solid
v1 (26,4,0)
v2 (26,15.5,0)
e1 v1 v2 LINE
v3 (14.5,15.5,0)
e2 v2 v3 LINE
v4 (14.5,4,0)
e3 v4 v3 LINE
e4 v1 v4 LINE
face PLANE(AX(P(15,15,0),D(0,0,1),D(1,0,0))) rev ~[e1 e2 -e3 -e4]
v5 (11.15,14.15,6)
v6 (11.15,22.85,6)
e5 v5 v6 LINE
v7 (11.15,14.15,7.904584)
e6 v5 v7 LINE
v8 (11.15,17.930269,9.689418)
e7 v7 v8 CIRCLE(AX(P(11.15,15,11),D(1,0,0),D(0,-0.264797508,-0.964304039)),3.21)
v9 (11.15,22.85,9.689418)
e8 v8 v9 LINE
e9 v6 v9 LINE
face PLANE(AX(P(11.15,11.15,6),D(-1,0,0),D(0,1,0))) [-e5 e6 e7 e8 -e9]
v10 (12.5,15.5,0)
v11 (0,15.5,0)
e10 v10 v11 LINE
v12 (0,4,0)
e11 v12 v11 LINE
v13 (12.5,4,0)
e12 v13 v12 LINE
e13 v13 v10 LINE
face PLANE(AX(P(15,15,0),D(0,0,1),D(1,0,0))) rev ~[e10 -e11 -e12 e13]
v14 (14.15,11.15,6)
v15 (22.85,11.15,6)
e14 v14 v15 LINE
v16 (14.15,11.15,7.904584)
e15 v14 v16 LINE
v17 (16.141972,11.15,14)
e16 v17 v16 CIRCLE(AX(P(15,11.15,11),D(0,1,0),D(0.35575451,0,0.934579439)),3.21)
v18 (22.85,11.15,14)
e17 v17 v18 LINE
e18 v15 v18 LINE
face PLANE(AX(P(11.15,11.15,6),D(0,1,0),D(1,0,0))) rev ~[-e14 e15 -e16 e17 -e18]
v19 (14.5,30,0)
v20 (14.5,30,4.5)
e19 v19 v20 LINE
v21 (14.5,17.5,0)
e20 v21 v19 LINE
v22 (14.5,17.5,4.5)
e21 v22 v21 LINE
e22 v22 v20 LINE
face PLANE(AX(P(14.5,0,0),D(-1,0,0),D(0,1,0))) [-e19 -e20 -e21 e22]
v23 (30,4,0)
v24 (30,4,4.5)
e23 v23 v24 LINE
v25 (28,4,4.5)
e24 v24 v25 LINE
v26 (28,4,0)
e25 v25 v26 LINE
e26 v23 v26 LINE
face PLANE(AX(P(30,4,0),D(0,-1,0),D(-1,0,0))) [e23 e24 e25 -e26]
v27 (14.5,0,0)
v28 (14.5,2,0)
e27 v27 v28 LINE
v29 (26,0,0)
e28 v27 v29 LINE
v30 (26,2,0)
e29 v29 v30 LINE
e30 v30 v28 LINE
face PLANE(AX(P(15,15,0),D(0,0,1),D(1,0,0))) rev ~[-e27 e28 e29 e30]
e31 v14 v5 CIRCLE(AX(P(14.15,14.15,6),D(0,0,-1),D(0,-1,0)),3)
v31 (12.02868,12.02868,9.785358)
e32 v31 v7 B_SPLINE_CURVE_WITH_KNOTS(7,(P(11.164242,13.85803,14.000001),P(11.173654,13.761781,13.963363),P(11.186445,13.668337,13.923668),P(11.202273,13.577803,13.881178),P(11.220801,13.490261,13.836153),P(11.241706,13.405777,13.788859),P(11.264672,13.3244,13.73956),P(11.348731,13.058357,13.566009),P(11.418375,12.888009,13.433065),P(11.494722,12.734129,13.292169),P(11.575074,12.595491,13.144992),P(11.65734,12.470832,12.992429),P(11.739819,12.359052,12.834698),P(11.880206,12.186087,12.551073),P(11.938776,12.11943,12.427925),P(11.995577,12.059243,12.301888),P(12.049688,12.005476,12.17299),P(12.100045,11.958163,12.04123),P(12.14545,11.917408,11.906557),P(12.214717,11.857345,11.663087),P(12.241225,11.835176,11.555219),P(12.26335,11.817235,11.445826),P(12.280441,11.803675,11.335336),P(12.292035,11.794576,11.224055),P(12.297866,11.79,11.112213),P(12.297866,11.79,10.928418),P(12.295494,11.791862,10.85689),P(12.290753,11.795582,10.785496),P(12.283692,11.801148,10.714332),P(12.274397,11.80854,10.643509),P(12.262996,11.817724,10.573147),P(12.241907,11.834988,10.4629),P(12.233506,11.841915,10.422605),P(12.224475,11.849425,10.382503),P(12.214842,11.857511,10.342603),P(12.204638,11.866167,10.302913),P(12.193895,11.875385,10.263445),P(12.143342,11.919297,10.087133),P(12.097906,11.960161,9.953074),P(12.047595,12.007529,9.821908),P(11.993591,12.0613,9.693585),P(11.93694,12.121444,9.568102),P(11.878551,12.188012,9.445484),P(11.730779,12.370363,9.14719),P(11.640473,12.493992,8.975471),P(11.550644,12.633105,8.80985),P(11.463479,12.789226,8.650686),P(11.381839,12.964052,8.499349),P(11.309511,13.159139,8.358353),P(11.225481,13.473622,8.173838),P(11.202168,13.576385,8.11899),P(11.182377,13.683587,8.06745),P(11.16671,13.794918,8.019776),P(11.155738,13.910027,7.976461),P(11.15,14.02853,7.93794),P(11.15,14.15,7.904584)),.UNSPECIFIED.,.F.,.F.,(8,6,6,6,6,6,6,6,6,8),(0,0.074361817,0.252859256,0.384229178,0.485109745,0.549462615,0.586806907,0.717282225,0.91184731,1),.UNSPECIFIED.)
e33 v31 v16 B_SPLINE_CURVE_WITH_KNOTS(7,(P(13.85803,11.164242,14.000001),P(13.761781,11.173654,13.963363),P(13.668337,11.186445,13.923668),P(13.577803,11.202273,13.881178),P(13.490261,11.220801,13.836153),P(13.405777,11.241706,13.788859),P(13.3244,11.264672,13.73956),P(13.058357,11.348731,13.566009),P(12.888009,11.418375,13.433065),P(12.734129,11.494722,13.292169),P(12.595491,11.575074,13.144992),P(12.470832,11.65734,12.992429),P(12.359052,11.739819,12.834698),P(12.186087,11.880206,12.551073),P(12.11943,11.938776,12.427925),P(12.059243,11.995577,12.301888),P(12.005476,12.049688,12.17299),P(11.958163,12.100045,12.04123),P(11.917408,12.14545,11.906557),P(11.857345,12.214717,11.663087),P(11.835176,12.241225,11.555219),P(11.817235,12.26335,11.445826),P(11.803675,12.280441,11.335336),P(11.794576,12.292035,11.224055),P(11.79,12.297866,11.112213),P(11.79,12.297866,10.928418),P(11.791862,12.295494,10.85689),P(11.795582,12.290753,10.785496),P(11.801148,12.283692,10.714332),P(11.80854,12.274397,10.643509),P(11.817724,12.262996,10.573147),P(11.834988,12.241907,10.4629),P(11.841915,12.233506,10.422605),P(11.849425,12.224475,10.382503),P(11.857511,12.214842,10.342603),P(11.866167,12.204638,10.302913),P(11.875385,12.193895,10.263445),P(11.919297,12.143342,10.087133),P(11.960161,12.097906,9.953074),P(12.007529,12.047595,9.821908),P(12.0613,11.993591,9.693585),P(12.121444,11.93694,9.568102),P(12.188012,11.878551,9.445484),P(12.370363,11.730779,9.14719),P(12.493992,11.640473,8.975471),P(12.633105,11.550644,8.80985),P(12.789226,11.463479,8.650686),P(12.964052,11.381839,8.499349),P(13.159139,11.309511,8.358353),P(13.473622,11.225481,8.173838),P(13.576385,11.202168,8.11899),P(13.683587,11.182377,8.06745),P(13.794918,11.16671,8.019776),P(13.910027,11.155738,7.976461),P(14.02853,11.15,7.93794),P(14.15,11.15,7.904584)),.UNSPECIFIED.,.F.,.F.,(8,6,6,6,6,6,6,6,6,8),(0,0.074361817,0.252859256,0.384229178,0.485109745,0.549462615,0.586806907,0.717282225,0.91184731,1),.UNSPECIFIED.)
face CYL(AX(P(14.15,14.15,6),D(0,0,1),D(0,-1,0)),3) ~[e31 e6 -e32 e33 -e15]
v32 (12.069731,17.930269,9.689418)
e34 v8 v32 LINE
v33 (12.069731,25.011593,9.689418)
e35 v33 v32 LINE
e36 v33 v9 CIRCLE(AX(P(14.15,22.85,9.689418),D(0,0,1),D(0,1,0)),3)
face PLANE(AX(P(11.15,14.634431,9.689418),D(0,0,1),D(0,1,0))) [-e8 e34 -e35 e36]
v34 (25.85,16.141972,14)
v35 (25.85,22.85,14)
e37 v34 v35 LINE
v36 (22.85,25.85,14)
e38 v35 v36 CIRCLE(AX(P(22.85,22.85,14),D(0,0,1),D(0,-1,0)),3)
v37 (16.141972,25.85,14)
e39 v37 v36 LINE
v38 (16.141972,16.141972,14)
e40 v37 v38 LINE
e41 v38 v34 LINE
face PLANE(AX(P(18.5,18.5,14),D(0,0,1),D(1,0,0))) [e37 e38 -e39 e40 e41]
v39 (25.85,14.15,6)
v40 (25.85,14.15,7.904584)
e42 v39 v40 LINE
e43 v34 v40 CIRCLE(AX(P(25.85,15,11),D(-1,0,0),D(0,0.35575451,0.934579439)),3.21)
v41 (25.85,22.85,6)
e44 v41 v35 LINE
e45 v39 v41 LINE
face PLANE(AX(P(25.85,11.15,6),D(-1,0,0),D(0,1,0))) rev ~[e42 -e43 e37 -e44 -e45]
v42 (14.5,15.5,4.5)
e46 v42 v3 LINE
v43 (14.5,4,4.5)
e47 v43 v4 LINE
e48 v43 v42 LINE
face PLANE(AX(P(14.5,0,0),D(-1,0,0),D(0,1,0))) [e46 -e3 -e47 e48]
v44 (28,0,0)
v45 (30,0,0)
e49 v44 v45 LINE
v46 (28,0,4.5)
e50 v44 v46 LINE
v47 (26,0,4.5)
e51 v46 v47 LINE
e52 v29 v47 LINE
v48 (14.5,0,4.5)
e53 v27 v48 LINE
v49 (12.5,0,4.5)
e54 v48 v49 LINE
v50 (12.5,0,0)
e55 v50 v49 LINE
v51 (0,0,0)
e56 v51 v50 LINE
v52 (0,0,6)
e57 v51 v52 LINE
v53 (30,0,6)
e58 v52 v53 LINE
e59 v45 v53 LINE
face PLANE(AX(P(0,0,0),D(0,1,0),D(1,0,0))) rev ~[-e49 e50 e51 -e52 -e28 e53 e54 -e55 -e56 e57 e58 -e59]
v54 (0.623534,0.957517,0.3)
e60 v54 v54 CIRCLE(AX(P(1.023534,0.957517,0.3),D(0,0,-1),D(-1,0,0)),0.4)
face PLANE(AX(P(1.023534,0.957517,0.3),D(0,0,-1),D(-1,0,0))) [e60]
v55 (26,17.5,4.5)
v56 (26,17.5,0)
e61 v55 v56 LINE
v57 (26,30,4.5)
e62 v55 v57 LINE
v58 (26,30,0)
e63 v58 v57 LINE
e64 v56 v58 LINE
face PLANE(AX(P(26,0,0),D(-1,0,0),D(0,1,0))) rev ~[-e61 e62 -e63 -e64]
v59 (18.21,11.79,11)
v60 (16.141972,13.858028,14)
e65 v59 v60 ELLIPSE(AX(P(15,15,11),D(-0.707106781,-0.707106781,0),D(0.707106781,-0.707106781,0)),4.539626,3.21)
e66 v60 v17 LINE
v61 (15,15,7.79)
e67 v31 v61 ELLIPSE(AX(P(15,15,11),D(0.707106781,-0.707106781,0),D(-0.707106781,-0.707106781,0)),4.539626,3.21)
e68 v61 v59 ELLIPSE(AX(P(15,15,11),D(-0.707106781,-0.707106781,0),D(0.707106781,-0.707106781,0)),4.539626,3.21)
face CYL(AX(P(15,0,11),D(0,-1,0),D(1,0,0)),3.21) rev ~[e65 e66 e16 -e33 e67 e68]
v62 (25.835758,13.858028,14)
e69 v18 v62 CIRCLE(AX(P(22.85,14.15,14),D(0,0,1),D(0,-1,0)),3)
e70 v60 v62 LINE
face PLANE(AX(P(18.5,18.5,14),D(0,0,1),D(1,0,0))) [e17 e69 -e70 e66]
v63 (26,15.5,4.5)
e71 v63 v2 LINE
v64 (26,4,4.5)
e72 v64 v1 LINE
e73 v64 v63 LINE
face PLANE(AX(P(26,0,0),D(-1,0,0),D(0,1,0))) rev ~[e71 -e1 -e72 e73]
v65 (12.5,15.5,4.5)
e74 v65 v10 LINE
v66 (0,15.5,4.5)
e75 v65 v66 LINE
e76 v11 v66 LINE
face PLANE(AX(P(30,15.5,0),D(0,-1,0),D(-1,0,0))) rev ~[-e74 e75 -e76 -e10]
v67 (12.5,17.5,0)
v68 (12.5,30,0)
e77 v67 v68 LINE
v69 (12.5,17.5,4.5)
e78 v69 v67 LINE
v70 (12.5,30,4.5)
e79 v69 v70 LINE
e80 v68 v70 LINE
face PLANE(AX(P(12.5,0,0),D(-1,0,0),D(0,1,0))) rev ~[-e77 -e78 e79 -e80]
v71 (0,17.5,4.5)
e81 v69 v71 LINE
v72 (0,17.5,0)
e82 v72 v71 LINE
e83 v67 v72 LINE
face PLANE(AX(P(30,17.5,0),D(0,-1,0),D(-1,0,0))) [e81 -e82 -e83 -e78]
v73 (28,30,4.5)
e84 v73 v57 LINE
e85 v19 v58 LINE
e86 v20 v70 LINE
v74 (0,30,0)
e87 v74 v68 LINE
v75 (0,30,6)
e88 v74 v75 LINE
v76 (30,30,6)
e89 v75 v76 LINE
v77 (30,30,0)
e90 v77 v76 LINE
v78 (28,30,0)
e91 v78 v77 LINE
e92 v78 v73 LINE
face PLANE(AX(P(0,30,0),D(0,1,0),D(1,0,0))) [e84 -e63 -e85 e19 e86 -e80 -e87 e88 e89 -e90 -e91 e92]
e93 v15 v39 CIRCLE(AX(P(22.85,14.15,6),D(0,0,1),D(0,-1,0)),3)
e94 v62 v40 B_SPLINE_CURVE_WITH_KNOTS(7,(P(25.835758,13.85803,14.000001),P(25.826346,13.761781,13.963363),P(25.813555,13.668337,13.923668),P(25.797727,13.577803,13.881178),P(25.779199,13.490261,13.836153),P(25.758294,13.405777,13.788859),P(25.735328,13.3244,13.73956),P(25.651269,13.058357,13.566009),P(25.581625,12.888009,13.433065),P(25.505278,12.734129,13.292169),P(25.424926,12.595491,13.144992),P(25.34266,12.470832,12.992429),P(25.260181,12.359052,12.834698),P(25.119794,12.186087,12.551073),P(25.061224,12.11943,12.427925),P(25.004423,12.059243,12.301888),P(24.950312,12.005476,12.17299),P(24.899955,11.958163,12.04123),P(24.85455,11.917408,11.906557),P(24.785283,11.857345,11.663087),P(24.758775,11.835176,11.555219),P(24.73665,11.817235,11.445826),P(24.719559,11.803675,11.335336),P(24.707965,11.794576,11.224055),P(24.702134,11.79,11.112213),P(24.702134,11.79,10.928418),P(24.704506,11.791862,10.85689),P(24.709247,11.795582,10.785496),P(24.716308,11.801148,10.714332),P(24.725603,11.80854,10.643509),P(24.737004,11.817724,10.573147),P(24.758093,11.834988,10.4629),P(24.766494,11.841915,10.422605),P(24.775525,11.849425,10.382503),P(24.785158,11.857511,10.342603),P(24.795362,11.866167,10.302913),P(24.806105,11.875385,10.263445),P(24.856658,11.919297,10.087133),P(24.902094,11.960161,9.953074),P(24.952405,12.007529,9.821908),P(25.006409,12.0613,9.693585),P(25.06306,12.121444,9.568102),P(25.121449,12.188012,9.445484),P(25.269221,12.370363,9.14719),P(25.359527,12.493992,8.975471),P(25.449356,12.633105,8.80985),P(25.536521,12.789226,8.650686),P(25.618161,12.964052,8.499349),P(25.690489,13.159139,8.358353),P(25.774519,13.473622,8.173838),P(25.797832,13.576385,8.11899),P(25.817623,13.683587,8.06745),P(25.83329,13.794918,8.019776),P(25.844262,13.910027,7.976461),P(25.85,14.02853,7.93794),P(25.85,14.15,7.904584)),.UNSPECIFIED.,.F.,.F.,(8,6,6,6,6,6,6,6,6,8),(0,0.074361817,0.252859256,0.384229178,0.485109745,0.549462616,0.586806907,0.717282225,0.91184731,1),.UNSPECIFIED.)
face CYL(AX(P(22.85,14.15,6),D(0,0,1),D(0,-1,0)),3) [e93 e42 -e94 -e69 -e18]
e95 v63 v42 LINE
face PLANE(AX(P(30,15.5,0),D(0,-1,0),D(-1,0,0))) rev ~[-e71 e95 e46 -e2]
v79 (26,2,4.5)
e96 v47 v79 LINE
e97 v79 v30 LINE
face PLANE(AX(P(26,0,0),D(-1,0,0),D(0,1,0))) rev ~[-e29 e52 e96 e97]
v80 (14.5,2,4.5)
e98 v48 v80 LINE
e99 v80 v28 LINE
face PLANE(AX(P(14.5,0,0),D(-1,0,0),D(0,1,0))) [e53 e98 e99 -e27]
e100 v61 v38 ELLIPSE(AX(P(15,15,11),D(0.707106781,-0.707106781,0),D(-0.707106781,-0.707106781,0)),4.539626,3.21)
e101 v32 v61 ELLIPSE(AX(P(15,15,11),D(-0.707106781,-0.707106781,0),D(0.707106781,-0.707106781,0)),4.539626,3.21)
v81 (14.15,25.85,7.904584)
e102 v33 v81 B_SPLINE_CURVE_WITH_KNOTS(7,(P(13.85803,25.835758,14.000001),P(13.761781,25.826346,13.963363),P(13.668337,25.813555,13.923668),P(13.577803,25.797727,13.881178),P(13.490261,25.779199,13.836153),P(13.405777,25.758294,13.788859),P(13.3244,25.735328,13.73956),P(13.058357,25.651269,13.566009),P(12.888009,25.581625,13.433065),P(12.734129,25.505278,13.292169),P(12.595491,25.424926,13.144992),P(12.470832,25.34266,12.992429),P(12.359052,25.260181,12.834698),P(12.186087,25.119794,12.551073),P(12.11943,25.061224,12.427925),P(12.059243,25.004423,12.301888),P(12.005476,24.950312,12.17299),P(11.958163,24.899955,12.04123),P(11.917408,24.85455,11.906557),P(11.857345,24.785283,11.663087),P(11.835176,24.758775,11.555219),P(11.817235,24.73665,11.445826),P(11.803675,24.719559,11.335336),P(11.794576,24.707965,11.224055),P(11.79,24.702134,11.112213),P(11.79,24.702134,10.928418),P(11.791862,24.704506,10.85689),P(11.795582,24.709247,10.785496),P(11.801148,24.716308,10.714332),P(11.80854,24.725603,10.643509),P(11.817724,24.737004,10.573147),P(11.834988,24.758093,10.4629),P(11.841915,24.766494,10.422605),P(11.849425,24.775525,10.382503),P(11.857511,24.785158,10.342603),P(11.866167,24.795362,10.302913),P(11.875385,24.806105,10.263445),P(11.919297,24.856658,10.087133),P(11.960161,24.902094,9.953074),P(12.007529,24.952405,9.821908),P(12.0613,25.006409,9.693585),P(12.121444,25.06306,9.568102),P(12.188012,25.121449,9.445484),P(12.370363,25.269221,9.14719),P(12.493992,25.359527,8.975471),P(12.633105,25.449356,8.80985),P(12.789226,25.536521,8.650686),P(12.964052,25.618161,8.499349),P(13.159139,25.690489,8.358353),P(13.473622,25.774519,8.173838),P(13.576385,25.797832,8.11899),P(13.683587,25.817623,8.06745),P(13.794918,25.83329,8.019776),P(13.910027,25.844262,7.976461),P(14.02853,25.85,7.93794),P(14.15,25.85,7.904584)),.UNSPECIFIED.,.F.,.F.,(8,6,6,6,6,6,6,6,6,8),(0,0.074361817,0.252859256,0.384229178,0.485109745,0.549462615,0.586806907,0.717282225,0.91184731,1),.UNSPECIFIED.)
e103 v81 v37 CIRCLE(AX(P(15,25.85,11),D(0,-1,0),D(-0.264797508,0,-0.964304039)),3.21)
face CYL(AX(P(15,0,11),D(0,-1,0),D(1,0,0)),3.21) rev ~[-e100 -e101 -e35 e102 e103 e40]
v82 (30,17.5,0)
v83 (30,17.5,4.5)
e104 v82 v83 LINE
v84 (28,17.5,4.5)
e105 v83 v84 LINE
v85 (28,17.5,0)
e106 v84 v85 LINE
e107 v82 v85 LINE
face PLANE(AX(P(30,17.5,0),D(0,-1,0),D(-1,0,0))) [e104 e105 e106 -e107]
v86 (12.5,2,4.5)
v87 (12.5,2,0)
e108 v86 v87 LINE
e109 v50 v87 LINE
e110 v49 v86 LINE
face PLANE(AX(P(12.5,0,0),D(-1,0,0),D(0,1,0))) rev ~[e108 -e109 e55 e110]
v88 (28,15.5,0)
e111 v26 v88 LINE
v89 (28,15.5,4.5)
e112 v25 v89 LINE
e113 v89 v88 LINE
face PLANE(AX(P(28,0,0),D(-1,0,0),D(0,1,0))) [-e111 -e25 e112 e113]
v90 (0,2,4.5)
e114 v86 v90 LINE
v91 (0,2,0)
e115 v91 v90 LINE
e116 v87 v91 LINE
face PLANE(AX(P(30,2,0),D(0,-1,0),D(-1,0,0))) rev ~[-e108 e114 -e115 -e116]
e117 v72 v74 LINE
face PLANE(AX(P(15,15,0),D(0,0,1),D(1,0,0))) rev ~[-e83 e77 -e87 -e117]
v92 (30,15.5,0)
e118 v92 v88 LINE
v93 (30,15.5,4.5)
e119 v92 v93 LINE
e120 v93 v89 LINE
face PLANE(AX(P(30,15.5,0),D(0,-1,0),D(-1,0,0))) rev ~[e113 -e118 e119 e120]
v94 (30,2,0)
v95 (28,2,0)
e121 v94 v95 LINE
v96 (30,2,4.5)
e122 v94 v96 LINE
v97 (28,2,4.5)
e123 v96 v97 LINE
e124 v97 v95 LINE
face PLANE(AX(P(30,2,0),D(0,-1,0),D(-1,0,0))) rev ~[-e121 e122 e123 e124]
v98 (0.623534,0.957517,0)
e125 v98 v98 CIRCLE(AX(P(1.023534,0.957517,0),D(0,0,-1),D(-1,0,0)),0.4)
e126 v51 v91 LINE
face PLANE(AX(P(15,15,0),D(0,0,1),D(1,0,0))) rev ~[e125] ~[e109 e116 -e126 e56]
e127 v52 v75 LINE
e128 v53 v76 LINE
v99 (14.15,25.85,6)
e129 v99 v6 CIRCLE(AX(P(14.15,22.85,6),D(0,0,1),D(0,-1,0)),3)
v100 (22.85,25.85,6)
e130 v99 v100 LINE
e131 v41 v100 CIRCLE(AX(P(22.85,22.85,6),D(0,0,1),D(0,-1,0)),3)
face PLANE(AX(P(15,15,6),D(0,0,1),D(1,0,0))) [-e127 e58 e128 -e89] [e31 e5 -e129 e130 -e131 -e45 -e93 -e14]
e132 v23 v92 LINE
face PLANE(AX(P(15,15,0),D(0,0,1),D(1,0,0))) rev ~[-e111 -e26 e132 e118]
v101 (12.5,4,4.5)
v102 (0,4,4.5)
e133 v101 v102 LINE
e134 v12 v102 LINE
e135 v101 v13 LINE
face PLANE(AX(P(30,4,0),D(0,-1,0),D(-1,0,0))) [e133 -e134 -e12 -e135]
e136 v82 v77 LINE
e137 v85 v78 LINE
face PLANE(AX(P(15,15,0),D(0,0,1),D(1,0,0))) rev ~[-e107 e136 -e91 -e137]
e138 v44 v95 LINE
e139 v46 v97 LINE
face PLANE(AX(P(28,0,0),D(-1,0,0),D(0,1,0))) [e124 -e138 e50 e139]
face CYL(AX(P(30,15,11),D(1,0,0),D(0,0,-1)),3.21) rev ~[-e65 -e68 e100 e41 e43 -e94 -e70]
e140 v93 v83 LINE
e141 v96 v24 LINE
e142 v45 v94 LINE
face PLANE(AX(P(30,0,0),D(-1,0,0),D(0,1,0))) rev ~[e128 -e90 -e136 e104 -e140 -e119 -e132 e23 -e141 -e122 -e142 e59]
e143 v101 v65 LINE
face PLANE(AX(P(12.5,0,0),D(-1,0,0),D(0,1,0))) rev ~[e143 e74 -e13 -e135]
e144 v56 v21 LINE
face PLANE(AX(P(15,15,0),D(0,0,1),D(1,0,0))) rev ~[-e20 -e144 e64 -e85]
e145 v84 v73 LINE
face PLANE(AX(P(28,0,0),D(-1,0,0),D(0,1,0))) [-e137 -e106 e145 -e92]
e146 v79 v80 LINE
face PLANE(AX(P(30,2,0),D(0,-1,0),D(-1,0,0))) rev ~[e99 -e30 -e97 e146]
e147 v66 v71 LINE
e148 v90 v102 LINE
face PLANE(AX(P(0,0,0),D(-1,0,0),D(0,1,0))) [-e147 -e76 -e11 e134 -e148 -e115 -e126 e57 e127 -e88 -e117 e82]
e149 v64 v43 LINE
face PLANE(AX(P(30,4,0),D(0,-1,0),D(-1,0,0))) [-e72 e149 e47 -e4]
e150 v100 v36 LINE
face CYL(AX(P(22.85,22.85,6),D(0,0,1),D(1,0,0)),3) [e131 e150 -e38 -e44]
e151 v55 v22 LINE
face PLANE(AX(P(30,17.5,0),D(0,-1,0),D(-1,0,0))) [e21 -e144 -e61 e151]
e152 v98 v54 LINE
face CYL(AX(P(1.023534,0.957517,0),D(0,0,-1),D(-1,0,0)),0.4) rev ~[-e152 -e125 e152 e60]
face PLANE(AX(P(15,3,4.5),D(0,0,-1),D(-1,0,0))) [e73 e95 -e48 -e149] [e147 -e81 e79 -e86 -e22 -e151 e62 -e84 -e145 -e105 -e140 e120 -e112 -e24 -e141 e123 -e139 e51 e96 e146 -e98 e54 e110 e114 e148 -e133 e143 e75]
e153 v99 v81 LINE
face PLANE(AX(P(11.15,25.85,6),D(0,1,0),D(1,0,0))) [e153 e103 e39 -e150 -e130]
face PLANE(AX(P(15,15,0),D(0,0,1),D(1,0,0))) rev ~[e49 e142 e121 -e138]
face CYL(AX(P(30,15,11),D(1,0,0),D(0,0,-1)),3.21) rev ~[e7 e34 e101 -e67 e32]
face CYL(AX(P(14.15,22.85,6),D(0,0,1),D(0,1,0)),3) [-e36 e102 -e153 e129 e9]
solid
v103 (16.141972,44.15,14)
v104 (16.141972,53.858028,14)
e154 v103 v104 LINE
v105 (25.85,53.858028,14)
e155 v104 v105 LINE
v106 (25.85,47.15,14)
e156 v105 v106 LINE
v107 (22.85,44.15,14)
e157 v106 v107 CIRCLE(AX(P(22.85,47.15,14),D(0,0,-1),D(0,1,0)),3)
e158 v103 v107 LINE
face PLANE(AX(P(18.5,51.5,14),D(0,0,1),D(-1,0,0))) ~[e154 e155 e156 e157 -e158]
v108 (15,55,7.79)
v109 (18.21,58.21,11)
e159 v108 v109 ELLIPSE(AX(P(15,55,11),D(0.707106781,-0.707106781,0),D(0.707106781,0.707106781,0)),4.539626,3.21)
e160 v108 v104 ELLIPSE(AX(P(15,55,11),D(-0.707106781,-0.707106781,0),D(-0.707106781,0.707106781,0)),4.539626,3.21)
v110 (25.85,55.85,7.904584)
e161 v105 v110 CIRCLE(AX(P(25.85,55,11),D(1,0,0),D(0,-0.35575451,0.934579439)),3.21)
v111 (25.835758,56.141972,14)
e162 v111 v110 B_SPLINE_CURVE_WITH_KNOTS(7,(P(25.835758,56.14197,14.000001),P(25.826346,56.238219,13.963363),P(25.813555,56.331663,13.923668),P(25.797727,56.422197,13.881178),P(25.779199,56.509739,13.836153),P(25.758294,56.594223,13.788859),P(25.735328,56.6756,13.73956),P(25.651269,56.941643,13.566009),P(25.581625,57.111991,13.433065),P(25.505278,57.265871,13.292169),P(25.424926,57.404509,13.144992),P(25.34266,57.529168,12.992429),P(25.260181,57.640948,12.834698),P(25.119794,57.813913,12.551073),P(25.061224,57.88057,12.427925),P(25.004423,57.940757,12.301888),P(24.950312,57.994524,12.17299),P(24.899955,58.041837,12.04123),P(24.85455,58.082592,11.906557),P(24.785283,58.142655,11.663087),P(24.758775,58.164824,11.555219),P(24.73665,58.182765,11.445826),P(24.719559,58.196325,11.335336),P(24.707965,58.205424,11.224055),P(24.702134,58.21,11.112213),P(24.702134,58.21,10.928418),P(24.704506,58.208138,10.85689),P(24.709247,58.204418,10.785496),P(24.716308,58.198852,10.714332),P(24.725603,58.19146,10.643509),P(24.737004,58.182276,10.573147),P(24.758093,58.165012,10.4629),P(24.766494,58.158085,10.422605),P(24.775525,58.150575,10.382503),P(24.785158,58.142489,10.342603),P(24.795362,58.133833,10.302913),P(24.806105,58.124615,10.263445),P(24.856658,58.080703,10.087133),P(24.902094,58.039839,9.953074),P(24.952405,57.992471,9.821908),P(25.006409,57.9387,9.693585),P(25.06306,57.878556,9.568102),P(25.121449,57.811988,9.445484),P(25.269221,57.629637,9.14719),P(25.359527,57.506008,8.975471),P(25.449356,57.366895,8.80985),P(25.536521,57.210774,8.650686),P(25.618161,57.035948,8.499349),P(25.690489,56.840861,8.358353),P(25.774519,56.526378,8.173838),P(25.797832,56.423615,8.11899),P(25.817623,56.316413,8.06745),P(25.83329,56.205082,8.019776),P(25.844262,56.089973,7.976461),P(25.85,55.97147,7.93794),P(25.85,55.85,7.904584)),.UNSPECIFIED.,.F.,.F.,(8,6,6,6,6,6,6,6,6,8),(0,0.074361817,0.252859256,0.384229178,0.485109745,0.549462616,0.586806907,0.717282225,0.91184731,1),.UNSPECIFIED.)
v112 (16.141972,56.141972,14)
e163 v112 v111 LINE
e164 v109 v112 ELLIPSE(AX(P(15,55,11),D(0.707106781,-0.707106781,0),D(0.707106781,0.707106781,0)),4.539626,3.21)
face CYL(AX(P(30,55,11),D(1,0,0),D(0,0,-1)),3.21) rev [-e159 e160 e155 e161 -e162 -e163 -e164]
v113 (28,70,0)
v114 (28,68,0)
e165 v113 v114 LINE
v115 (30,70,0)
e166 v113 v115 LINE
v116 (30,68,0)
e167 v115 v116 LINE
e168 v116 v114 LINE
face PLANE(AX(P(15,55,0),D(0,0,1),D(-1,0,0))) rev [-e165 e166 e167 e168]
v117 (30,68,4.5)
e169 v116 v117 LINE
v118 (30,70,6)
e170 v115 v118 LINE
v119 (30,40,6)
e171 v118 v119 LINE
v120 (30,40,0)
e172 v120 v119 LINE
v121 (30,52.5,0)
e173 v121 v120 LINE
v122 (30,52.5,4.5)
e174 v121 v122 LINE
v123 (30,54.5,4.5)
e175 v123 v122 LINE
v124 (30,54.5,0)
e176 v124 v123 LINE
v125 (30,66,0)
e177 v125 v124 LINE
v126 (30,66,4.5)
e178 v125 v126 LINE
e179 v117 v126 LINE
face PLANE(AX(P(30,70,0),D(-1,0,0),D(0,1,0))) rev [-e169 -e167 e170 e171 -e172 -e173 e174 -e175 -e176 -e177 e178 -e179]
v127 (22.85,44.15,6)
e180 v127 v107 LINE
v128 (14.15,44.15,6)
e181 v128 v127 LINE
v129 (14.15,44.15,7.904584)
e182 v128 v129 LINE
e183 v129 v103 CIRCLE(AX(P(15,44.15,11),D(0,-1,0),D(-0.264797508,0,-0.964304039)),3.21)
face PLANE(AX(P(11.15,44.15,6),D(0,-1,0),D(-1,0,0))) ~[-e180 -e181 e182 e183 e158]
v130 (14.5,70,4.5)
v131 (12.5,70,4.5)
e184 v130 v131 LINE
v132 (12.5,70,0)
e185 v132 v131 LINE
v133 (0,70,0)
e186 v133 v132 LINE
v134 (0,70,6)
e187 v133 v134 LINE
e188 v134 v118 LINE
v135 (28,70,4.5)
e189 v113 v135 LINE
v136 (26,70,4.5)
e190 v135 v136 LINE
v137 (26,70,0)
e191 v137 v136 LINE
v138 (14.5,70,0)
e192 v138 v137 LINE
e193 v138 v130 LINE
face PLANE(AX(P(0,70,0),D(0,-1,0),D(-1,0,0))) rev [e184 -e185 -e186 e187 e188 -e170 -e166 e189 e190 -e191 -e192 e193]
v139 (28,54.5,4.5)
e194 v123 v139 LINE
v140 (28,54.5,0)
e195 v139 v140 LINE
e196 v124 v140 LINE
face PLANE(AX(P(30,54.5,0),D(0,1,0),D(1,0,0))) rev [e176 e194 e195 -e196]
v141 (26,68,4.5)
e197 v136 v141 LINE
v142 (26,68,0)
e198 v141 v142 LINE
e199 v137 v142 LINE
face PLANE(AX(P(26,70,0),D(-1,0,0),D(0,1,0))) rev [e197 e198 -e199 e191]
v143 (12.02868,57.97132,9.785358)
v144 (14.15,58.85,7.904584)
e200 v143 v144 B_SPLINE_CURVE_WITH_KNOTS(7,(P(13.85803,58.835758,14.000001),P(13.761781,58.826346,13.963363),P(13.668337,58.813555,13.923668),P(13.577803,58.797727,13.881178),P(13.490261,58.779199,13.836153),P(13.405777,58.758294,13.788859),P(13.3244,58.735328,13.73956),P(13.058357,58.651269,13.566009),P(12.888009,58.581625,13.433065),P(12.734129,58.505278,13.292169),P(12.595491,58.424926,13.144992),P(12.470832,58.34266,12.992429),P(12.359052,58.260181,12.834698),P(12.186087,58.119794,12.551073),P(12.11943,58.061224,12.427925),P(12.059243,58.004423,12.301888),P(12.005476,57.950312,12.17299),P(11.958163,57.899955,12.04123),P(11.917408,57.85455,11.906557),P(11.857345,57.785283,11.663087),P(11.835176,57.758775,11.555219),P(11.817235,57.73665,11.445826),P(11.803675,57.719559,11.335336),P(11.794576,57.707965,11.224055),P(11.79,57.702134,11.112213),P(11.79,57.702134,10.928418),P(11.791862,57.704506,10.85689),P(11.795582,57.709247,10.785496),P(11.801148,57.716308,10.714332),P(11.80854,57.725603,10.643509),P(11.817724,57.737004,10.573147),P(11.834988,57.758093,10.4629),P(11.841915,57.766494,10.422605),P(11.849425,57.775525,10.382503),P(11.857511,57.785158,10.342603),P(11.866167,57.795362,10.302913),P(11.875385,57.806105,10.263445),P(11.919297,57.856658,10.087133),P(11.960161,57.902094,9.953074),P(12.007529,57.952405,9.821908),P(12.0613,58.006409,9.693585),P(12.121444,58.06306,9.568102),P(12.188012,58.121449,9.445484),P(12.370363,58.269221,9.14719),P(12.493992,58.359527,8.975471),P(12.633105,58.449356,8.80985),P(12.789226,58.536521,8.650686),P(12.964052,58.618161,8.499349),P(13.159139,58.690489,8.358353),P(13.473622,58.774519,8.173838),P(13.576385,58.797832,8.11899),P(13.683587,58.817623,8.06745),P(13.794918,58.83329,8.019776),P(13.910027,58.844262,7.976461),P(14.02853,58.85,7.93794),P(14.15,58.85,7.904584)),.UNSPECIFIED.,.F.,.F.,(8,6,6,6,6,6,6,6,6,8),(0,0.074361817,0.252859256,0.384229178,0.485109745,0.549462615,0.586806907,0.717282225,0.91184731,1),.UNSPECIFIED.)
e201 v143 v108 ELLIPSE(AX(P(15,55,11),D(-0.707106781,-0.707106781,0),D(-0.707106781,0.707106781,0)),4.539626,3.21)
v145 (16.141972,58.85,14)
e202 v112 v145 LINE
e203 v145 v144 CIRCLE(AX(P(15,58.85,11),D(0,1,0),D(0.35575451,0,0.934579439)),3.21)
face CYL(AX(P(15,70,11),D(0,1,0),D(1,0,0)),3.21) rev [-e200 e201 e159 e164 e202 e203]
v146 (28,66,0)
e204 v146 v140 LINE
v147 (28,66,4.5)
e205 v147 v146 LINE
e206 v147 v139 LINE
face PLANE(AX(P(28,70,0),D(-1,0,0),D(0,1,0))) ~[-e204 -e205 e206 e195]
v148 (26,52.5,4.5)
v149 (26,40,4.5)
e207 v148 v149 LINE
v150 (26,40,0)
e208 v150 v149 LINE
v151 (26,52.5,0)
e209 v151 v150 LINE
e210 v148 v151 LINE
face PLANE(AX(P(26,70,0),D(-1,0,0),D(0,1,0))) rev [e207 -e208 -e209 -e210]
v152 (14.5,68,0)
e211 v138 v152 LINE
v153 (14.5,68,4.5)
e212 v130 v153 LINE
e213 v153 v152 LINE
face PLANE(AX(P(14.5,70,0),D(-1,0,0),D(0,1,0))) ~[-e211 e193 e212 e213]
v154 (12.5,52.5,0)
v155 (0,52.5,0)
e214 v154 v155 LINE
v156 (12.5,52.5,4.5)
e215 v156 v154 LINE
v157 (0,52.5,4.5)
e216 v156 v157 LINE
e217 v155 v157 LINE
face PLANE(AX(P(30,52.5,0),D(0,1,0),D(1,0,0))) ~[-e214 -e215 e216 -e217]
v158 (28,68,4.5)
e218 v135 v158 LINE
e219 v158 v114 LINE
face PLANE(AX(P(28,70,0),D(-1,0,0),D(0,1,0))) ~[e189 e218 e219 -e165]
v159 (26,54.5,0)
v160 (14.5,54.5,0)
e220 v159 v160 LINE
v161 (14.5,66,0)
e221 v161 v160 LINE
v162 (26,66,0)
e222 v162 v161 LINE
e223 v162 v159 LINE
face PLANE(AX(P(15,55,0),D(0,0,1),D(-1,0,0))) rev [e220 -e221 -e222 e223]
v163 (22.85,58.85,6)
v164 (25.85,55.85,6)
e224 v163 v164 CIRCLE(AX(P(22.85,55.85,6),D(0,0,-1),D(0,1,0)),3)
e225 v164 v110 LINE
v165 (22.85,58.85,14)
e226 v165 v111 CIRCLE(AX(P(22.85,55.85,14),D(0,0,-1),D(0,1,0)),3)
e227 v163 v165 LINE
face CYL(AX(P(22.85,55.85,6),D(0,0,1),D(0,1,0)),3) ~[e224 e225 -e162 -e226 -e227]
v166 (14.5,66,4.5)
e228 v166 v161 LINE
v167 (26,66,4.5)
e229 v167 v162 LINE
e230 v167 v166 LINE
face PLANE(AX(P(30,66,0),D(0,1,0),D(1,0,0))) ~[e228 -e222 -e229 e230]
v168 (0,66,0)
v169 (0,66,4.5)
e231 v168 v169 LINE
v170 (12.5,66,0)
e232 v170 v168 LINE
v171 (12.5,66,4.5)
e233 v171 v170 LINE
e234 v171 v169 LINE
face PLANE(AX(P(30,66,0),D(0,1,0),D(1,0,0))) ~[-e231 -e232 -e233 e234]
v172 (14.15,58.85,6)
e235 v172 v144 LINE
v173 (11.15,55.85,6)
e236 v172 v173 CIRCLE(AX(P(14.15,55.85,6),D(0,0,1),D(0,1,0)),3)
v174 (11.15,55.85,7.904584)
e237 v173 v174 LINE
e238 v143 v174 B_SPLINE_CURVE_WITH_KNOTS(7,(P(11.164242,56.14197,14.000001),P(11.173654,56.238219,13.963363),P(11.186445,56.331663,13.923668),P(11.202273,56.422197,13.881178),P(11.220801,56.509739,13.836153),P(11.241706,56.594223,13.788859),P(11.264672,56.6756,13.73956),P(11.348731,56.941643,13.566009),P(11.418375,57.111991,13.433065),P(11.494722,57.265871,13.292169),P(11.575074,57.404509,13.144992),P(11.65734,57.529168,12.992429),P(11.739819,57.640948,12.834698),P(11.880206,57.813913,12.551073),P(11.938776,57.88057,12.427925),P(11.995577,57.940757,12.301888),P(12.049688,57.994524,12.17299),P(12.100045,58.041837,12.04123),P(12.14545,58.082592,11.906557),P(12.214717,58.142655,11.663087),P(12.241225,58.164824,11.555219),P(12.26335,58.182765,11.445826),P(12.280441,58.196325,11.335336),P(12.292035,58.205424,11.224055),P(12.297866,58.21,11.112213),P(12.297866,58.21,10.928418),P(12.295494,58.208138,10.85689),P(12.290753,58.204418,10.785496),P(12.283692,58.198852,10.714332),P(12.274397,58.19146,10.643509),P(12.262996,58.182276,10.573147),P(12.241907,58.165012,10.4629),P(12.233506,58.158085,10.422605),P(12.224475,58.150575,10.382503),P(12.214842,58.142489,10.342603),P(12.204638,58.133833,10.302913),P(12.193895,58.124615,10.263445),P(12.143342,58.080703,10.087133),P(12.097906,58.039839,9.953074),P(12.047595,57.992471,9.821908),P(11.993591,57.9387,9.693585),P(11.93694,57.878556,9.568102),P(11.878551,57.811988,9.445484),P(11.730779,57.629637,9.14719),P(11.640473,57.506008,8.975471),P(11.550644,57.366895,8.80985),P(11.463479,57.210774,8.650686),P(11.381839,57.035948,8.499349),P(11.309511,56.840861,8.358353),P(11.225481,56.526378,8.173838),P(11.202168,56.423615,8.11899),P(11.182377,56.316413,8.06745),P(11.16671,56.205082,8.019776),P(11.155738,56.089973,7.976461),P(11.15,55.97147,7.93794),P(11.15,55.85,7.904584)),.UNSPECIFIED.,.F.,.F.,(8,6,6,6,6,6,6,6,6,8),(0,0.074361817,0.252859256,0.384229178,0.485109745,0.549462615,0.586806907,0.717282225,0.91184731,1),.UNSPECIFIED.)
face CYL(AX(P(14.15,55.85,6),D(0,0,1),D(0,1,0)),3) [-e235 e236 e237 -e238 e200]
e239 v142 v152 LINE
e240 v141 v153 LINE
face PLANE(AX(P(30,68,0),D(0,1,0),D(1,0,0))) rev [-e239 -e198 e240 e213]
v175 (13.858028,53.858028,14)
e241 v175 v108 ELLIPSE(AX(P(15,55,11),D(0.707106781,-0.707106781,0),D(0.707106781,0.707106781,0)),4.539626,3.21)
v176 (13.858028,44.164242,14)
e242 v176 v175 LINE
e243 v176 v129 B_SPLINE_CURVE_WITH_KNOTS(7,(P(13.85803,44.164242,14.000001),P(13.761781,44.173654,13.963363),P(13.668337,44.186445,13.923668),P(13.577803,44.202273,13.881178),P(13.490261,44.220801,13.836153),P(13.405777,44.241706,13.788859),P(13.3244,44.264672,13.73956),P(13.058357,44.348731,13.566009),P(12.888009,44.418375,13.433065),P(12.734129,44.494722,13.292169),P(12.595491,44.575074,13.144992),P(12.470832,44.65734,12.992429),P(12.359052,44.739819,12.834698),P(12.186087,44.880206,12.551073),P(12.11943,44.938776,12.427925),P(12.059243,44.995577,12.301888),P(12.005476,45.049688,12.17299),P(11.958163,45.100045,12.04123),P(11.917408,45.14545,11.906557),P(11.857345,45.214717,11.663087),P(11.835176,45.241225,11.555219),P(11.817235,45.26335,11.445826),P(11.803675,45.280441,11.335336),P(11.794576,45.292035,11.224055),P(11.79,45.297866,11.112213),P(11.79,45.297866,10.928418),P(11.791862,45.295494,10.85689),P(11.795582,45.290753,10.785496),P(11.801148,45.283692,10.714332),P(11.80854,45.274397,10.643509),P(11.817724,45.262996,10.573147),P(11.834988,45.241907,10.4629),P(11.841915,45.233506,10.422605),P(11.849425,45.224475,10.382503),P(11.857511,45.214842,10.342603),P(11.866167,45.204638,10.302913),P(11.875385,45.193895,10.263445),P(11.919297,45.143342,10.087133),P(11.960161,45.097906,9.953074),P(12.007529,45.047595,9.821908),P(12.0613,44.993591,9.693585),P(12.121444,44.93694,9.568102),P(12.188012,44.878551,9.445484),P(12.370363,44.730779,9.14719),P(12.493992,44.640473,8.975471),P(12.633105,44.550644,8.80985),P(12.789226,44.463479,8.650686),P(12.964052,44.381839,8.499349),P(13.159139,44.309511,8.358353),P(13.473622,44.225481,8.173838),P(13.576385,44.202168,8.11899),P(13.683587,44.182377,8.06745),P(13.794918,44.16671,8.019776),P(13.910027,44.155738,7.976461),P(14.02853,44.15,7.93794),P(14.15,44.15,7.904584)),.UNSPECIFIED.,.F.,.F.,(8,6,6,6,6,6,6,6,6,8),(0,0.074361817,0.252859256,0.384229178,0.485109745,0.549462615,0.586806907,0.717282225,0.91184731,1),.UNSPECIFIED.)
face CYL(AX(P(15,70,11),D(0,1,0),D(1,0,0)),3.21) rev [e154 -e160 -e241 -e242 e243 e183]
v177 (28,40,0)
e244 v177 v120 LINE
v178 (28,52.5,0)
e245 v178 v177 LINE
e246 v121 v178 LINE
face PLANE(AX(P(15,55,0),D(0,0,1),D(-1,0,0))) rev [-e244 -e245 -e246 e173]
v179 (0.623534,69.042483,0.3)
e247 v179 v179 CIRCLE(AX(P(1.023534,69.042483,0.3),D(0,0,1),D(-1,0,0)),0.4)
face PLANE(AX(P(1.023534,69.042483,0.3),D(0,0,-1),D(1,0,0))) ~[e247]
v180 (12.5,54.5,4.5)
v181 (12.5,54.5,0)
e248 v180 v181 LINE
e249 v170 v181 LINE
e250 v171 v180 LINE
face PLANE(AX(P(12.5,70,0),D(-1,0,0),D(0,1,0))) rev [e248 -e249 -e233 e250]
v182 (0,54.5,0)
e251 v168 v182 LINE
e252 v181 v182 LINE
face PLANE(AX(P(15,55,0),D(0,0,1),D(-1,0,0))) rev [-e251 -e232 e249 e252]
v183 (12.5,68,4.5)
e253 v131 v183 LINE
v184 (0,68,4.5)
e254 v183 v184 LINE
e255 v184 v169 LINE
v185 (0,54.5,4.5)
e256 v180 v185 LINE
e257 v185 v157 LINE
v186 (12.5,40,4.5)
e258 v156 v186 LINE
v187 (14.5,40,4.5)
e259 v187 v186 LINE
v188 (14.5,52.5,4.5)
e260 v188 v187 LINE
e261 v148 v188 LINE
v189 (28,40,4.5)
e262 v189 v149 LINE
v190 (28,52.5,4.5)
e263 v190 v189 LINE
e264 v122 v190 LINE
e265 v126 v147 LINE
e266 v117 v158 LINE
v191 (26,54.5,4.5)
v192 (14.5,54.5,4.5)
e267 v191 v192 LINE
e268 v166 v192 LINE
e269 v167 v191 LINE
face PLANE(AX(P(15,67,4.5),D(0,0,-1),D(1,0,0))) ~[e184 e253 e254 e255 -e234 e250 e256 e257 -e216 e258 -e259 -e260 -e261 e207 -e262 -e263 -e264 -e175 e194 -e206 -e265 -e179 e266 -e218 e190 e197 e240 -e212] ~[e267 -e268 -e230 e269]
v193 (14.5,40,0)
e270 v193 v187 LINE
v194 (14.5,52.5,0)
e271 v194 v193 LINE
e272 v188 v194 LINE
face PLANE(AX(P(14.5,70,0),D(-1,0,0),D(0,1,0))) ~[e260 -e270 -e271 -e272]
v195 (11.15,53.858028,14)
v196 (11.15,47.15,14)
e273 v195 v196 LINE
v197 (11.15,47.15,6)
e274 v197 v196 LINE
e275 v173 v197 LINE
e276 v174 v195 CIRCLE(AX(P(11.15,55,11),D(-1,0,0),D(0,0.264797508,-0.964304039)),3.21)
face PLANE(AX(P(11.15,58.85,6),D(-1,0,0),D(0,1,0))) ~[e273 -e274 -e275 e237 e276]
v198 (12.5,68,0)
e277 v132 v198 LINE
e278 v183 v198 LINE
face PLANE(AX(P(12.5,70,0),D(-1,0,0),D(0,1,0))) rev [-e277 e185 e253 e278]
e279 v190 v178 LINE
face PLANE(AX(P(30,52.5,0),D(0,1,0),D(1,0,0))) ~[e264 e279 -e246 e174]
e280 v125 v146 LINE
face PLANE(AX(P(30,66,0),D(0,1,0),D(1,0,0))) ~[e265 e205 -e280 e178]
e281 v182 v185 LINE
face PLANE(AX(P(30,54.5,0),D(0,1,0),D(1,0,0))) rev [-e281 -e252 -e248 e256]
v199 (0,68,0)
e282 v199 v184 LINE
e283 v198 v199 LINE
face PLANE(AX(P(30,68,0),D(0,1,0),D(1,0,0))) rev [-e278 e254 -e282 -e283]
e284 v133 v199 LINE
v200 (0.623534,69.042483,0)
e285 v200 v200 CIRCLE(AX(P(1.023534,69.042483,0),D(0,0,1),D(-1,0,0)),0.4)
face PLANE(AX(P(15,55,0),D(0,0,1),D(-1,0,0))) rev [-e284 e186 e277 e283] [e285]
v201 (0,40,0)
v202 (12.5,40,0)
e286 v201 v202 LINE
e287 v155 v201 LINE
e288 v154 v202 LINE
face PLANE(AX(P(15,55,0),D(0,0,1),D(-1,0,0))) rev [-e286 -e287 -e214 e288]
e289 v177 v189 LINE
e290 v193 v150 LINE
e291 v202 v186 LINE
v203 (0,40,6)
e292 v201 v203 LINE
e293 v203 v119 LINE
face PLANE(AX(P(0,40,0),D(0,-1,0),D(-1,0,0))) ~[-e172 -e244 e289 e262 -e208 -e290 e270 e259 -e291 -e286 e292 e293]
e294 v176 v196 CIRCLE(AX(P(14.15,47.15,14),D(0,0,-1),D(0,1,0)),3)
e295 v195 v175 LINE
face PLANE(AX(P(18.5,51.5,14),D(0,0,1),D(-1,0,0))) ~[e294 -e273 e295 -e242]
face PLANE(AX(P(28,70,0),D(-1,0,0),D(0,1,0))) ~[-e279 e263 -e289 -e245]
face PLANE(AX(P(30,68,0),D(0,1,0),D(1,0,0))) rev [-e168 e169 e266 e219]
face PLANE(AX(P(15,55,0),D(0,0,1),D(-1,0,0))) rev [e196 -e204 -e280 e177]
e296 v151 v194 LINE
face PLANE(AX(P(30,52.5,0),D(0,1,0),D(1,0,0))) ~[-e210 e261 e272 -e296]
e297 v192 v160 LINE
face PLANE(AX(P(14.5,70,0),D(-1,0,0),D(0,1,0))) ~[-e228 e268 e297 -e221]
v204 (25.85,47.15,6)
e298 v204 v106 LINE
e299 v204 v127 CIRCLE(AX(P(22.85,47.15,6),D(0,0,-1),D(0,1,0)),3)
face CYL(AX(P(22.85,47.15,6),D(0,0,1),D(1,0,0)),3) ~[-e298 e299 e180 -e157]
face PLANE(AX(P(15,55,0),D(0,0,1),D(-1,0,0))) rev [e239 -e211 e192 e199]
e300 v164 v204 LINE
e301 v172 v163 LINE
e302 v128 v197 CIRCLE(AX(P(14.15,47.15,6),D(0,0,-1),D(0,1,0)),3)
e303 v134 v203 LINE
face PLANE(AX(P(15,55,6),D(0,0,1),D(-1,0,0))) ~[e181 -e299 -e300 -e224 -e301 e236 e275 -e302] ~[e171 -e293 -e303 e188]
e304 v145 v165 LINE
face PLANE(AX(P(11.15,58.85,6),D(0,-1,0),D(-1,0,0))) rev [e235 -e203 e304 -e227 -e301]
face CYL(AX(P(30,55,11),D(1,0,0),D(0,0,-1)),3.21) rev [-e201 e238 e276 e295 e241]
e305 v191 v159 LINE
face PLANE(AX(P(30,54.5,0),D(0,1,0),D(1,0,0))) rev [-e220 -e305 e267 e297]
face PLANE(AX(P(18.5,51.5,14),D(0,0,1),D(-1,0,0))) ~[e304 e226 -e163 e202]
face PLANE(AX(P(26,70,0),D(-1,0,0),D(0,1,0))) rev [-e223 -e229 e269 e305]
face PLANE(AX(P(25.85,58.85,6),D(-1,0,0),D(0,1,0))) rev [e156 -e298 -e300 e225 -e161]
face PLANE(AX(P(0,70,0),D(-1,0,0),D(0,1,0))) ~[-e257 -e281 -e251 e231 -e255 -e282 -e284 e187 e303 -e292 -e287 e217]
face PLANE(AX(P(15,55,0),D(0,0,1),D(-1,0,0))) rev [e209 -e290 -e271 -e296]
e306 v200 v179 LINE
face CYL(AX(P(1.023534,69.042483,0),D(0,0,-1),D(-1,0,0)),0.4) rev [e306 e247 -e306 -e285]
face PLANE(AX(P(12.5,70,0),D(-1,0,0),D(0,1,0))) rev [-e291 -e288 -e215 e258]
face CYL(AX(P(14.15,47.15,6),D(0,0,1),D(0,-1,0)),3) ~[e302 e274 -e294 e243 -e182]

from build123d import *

# Parameters (mm, degrees)
SKETCH1_W           = 30
SKETCH1_H           = 30
COVER_DEPTH         = 6
SKETCH2_W           = 14.7
SKETCH2_H           = 14.7
PLUG_DEPTH          = 8
SKETCH3_W           = 30
SKETCH3_H           = 2
CUT_EXTRUDE1_DEPTH  = 4.5
FILLET1_R           = 3
SKETCH7_W           = 2
SKETCH7_H           = 30
CUT_EXTRUDE5_DEPTH  = 4.5
CUT_EXTRUDE8_REACH  = 46.677
SKETCH10_R          = 3.21
CUT_EXTRUDE6_REACH  = 46.677
SKETCH8_R           = 3.21
SKETCH11_R          = 0.4
CUT_EXTRUDE9_DEPTH  = 0.3
SKETCH12_W          = 5.786854718
SKETCH12_H          = 13.066730134
CUT_EXTRUDE10_DEPTH = 1.35


with BuildPart() as part:
    # Sketch1 → cover (new body)
    with BuildSketch(Plane.XY):
        with Locations((15, 15)):
            Rectangle(SKETCH1_W, SKETCH1_H)
    extrude(amount=COVER_DEPTH)

    # Sketch2 → plug (add)
    with BuildSketch(Plane.XY.offset(6)):
        with Locations((18.5, 18.5)):
            Rectangle(SKETCH2_W, SKETCH2_H)
    extrude(amount=PLUG_DEPTH)

    # Sketch3 → Cut-Extrude1 (cut)
    with BuildSketch(Plane(origin=(0, 0, 0), x_dir=(-1, 0, 0), z_dir=(0, 0, -1))):
        with Locations((-15, 3)):
            Rectangle(SKETCH3_W, SKETCH3_H)
        with Locations((-15, 16.5)):
            Rectangle(SKETCH3_W, SKETCH3_H)
    extrude(amount=-CUT_EXTRUDE1_DEPTH, mode=Mode.SUBTRACT)

    # Fillet1
    fillet1_edges = [part.edges().sort_by_distance(p)[0] for p in [
        (11.15, 25.85, 10),
        (11.15, 11.15, 10),
        (25.85, 11.15, 10),
        (25.85, 25.85, 10),
    ]]
    fillet(fillet1_edges, radius=FILLET1_R)

    # Sketch7 → Cut-Extrude5 (cut)
    with BuildSketch(Plane(origin=(0, 0, 0), x_dir=(-1, 0, 0), z_dir=(0, 0, -1))):
        with Locations((-27, 15)):
            Rectangle(SKETCH7_W, SKETCH7_H)
        with Locations((-13.5, 15)):
            Rectangle(SKETCH7_W, SKETCH7_H)
    extrude(amount=-CUT_EXTRUDE5_DEPTH, mode=Mode.SUBTRACT)

    # Cut-Extrude8: up to this face of the body (flat: up to its plane)
    cut_extrude8_end = Plane(part.part.faces().sort_by_distance((18.5, 25.85, 10))[0])
    # Sketch10 → Cut-Extrude8 (cut, up to the picked face)
    with BuildSketch(Plane.XZ, mode=Mode.PRIVATE) as cut_extrude8_sk1:
        with Locations((15, 11)):
            Circle(SKETCH10_R)
    cut_extrude8_tool1 = split(extrude(cut_extrude8_sk1.sketch, amount=-CUT_EXTRUDE8_REACH, mode=Mode.PRIVATE), bisect_by=cut_extrude8_end, keep=Keep.BOTH, mode=Mode.PRIVATE)
    add(cut_extrude8_tool1.solids().sort_by(Axis((15, 0, 11), (0, 1, 0)))[0], mode=Mode.SUBTRACT)

    # Cut-Extrude6: up to this face of the body (flat: up to its plane)
    cut_extrude6_end = Plane(part.part.faces().sort_by_distance((11.15, 18.5, 10))[0])
    # Sketch8 → Cut-Extrude6 (cut, up to the picked face)
    with BuildSketch(Plane(origin=(30, 0, 0), x_dir=(0, 0, -1), z_dir=(1, 0, 0)), mode=Mode.PRIVATE) as cut_extrude6_sk1:
        with Locations((-11, 15)):
            Circle(SKETCH8_R)
    cut_extrude6_tool1 = split(extrude(cut_extrude6_sk1.sketch, amount=-CUT_EXTRUDE6_REACH, mode=Mode.PRIVATE), bisect_by=cut_extrude6_end, keep=Keep.BOTH, mode=Mode.PRIVATE)
    add(cut_extrude6_tool1.solids().sort_by(Axis((30, 15, 11), (-1, 0, 0)))[0], mode=Mode.SUBTRACT)


with BuildPart() as cut_extrude6_piece_1:
    # of the separate pieces the step leaves, piece 1, a body of its own (cut_extrude6_pieces)
    add(part.part.solids().sort_by_distance((11.15, 14.15, 6))[0])

    # Sketch11 → Cut-Extrude9 (cut)
    with BuildSketch(Plane(origin=(0, 0, 0), x_dir=(-1, 0, 0), z_dir=(0, 0, -1))):
        with Locations((-1.023534147, 0.957517398)):
            Circle(SKETCH11_R)
    extrude(amount=-CUT_EXTRUDE9_DEPTH, mode=Mode.SUBTRACT)


with BuildPart() as cut_extrude6_piece_2:
    # of the separate pieces the step leaves, piece 2, a body of its own (cut_extrude6_pieces)
    add(part.part.solids().sort_by_distance((11.164241744, 13.858028021, 14))[0])


with BuildPart() as body_2:
    # Mirror3: mirrored copy
    add(cut_extrude6_piece_1.part.mirror(Plane.ZX.offset(35)))


with BuildPart() as cut_extrude6_piece_1_1:
    add(cut_extrude6_piece_1.part)

    # Sketch12 → Cut-Extrude10 (cut)
    with BuildSketch(Plane.ZY.offset(-11.15)):
        with Locations((12.582845038, 21.167796202)):
            Rectangle(SKETCH12_W, SKETCH12_H)
    extrude(amount=-CUT_EXTRUDE10_DEPTH, mode=Mode.SUBTRACT)


with BuildPart() as cut_extrude10_kept_piece:
    # of the separate pieces the step leaves, the one the design keeps (cut_extrude10_pieces_kept)
    add(cut_extrude6_piece_1_1.part.solids().sort_by_distance((11.15, 14.15, 6))[0])


solid = Compound([body_2.part, cut_extrude10_kept_piece.part])
